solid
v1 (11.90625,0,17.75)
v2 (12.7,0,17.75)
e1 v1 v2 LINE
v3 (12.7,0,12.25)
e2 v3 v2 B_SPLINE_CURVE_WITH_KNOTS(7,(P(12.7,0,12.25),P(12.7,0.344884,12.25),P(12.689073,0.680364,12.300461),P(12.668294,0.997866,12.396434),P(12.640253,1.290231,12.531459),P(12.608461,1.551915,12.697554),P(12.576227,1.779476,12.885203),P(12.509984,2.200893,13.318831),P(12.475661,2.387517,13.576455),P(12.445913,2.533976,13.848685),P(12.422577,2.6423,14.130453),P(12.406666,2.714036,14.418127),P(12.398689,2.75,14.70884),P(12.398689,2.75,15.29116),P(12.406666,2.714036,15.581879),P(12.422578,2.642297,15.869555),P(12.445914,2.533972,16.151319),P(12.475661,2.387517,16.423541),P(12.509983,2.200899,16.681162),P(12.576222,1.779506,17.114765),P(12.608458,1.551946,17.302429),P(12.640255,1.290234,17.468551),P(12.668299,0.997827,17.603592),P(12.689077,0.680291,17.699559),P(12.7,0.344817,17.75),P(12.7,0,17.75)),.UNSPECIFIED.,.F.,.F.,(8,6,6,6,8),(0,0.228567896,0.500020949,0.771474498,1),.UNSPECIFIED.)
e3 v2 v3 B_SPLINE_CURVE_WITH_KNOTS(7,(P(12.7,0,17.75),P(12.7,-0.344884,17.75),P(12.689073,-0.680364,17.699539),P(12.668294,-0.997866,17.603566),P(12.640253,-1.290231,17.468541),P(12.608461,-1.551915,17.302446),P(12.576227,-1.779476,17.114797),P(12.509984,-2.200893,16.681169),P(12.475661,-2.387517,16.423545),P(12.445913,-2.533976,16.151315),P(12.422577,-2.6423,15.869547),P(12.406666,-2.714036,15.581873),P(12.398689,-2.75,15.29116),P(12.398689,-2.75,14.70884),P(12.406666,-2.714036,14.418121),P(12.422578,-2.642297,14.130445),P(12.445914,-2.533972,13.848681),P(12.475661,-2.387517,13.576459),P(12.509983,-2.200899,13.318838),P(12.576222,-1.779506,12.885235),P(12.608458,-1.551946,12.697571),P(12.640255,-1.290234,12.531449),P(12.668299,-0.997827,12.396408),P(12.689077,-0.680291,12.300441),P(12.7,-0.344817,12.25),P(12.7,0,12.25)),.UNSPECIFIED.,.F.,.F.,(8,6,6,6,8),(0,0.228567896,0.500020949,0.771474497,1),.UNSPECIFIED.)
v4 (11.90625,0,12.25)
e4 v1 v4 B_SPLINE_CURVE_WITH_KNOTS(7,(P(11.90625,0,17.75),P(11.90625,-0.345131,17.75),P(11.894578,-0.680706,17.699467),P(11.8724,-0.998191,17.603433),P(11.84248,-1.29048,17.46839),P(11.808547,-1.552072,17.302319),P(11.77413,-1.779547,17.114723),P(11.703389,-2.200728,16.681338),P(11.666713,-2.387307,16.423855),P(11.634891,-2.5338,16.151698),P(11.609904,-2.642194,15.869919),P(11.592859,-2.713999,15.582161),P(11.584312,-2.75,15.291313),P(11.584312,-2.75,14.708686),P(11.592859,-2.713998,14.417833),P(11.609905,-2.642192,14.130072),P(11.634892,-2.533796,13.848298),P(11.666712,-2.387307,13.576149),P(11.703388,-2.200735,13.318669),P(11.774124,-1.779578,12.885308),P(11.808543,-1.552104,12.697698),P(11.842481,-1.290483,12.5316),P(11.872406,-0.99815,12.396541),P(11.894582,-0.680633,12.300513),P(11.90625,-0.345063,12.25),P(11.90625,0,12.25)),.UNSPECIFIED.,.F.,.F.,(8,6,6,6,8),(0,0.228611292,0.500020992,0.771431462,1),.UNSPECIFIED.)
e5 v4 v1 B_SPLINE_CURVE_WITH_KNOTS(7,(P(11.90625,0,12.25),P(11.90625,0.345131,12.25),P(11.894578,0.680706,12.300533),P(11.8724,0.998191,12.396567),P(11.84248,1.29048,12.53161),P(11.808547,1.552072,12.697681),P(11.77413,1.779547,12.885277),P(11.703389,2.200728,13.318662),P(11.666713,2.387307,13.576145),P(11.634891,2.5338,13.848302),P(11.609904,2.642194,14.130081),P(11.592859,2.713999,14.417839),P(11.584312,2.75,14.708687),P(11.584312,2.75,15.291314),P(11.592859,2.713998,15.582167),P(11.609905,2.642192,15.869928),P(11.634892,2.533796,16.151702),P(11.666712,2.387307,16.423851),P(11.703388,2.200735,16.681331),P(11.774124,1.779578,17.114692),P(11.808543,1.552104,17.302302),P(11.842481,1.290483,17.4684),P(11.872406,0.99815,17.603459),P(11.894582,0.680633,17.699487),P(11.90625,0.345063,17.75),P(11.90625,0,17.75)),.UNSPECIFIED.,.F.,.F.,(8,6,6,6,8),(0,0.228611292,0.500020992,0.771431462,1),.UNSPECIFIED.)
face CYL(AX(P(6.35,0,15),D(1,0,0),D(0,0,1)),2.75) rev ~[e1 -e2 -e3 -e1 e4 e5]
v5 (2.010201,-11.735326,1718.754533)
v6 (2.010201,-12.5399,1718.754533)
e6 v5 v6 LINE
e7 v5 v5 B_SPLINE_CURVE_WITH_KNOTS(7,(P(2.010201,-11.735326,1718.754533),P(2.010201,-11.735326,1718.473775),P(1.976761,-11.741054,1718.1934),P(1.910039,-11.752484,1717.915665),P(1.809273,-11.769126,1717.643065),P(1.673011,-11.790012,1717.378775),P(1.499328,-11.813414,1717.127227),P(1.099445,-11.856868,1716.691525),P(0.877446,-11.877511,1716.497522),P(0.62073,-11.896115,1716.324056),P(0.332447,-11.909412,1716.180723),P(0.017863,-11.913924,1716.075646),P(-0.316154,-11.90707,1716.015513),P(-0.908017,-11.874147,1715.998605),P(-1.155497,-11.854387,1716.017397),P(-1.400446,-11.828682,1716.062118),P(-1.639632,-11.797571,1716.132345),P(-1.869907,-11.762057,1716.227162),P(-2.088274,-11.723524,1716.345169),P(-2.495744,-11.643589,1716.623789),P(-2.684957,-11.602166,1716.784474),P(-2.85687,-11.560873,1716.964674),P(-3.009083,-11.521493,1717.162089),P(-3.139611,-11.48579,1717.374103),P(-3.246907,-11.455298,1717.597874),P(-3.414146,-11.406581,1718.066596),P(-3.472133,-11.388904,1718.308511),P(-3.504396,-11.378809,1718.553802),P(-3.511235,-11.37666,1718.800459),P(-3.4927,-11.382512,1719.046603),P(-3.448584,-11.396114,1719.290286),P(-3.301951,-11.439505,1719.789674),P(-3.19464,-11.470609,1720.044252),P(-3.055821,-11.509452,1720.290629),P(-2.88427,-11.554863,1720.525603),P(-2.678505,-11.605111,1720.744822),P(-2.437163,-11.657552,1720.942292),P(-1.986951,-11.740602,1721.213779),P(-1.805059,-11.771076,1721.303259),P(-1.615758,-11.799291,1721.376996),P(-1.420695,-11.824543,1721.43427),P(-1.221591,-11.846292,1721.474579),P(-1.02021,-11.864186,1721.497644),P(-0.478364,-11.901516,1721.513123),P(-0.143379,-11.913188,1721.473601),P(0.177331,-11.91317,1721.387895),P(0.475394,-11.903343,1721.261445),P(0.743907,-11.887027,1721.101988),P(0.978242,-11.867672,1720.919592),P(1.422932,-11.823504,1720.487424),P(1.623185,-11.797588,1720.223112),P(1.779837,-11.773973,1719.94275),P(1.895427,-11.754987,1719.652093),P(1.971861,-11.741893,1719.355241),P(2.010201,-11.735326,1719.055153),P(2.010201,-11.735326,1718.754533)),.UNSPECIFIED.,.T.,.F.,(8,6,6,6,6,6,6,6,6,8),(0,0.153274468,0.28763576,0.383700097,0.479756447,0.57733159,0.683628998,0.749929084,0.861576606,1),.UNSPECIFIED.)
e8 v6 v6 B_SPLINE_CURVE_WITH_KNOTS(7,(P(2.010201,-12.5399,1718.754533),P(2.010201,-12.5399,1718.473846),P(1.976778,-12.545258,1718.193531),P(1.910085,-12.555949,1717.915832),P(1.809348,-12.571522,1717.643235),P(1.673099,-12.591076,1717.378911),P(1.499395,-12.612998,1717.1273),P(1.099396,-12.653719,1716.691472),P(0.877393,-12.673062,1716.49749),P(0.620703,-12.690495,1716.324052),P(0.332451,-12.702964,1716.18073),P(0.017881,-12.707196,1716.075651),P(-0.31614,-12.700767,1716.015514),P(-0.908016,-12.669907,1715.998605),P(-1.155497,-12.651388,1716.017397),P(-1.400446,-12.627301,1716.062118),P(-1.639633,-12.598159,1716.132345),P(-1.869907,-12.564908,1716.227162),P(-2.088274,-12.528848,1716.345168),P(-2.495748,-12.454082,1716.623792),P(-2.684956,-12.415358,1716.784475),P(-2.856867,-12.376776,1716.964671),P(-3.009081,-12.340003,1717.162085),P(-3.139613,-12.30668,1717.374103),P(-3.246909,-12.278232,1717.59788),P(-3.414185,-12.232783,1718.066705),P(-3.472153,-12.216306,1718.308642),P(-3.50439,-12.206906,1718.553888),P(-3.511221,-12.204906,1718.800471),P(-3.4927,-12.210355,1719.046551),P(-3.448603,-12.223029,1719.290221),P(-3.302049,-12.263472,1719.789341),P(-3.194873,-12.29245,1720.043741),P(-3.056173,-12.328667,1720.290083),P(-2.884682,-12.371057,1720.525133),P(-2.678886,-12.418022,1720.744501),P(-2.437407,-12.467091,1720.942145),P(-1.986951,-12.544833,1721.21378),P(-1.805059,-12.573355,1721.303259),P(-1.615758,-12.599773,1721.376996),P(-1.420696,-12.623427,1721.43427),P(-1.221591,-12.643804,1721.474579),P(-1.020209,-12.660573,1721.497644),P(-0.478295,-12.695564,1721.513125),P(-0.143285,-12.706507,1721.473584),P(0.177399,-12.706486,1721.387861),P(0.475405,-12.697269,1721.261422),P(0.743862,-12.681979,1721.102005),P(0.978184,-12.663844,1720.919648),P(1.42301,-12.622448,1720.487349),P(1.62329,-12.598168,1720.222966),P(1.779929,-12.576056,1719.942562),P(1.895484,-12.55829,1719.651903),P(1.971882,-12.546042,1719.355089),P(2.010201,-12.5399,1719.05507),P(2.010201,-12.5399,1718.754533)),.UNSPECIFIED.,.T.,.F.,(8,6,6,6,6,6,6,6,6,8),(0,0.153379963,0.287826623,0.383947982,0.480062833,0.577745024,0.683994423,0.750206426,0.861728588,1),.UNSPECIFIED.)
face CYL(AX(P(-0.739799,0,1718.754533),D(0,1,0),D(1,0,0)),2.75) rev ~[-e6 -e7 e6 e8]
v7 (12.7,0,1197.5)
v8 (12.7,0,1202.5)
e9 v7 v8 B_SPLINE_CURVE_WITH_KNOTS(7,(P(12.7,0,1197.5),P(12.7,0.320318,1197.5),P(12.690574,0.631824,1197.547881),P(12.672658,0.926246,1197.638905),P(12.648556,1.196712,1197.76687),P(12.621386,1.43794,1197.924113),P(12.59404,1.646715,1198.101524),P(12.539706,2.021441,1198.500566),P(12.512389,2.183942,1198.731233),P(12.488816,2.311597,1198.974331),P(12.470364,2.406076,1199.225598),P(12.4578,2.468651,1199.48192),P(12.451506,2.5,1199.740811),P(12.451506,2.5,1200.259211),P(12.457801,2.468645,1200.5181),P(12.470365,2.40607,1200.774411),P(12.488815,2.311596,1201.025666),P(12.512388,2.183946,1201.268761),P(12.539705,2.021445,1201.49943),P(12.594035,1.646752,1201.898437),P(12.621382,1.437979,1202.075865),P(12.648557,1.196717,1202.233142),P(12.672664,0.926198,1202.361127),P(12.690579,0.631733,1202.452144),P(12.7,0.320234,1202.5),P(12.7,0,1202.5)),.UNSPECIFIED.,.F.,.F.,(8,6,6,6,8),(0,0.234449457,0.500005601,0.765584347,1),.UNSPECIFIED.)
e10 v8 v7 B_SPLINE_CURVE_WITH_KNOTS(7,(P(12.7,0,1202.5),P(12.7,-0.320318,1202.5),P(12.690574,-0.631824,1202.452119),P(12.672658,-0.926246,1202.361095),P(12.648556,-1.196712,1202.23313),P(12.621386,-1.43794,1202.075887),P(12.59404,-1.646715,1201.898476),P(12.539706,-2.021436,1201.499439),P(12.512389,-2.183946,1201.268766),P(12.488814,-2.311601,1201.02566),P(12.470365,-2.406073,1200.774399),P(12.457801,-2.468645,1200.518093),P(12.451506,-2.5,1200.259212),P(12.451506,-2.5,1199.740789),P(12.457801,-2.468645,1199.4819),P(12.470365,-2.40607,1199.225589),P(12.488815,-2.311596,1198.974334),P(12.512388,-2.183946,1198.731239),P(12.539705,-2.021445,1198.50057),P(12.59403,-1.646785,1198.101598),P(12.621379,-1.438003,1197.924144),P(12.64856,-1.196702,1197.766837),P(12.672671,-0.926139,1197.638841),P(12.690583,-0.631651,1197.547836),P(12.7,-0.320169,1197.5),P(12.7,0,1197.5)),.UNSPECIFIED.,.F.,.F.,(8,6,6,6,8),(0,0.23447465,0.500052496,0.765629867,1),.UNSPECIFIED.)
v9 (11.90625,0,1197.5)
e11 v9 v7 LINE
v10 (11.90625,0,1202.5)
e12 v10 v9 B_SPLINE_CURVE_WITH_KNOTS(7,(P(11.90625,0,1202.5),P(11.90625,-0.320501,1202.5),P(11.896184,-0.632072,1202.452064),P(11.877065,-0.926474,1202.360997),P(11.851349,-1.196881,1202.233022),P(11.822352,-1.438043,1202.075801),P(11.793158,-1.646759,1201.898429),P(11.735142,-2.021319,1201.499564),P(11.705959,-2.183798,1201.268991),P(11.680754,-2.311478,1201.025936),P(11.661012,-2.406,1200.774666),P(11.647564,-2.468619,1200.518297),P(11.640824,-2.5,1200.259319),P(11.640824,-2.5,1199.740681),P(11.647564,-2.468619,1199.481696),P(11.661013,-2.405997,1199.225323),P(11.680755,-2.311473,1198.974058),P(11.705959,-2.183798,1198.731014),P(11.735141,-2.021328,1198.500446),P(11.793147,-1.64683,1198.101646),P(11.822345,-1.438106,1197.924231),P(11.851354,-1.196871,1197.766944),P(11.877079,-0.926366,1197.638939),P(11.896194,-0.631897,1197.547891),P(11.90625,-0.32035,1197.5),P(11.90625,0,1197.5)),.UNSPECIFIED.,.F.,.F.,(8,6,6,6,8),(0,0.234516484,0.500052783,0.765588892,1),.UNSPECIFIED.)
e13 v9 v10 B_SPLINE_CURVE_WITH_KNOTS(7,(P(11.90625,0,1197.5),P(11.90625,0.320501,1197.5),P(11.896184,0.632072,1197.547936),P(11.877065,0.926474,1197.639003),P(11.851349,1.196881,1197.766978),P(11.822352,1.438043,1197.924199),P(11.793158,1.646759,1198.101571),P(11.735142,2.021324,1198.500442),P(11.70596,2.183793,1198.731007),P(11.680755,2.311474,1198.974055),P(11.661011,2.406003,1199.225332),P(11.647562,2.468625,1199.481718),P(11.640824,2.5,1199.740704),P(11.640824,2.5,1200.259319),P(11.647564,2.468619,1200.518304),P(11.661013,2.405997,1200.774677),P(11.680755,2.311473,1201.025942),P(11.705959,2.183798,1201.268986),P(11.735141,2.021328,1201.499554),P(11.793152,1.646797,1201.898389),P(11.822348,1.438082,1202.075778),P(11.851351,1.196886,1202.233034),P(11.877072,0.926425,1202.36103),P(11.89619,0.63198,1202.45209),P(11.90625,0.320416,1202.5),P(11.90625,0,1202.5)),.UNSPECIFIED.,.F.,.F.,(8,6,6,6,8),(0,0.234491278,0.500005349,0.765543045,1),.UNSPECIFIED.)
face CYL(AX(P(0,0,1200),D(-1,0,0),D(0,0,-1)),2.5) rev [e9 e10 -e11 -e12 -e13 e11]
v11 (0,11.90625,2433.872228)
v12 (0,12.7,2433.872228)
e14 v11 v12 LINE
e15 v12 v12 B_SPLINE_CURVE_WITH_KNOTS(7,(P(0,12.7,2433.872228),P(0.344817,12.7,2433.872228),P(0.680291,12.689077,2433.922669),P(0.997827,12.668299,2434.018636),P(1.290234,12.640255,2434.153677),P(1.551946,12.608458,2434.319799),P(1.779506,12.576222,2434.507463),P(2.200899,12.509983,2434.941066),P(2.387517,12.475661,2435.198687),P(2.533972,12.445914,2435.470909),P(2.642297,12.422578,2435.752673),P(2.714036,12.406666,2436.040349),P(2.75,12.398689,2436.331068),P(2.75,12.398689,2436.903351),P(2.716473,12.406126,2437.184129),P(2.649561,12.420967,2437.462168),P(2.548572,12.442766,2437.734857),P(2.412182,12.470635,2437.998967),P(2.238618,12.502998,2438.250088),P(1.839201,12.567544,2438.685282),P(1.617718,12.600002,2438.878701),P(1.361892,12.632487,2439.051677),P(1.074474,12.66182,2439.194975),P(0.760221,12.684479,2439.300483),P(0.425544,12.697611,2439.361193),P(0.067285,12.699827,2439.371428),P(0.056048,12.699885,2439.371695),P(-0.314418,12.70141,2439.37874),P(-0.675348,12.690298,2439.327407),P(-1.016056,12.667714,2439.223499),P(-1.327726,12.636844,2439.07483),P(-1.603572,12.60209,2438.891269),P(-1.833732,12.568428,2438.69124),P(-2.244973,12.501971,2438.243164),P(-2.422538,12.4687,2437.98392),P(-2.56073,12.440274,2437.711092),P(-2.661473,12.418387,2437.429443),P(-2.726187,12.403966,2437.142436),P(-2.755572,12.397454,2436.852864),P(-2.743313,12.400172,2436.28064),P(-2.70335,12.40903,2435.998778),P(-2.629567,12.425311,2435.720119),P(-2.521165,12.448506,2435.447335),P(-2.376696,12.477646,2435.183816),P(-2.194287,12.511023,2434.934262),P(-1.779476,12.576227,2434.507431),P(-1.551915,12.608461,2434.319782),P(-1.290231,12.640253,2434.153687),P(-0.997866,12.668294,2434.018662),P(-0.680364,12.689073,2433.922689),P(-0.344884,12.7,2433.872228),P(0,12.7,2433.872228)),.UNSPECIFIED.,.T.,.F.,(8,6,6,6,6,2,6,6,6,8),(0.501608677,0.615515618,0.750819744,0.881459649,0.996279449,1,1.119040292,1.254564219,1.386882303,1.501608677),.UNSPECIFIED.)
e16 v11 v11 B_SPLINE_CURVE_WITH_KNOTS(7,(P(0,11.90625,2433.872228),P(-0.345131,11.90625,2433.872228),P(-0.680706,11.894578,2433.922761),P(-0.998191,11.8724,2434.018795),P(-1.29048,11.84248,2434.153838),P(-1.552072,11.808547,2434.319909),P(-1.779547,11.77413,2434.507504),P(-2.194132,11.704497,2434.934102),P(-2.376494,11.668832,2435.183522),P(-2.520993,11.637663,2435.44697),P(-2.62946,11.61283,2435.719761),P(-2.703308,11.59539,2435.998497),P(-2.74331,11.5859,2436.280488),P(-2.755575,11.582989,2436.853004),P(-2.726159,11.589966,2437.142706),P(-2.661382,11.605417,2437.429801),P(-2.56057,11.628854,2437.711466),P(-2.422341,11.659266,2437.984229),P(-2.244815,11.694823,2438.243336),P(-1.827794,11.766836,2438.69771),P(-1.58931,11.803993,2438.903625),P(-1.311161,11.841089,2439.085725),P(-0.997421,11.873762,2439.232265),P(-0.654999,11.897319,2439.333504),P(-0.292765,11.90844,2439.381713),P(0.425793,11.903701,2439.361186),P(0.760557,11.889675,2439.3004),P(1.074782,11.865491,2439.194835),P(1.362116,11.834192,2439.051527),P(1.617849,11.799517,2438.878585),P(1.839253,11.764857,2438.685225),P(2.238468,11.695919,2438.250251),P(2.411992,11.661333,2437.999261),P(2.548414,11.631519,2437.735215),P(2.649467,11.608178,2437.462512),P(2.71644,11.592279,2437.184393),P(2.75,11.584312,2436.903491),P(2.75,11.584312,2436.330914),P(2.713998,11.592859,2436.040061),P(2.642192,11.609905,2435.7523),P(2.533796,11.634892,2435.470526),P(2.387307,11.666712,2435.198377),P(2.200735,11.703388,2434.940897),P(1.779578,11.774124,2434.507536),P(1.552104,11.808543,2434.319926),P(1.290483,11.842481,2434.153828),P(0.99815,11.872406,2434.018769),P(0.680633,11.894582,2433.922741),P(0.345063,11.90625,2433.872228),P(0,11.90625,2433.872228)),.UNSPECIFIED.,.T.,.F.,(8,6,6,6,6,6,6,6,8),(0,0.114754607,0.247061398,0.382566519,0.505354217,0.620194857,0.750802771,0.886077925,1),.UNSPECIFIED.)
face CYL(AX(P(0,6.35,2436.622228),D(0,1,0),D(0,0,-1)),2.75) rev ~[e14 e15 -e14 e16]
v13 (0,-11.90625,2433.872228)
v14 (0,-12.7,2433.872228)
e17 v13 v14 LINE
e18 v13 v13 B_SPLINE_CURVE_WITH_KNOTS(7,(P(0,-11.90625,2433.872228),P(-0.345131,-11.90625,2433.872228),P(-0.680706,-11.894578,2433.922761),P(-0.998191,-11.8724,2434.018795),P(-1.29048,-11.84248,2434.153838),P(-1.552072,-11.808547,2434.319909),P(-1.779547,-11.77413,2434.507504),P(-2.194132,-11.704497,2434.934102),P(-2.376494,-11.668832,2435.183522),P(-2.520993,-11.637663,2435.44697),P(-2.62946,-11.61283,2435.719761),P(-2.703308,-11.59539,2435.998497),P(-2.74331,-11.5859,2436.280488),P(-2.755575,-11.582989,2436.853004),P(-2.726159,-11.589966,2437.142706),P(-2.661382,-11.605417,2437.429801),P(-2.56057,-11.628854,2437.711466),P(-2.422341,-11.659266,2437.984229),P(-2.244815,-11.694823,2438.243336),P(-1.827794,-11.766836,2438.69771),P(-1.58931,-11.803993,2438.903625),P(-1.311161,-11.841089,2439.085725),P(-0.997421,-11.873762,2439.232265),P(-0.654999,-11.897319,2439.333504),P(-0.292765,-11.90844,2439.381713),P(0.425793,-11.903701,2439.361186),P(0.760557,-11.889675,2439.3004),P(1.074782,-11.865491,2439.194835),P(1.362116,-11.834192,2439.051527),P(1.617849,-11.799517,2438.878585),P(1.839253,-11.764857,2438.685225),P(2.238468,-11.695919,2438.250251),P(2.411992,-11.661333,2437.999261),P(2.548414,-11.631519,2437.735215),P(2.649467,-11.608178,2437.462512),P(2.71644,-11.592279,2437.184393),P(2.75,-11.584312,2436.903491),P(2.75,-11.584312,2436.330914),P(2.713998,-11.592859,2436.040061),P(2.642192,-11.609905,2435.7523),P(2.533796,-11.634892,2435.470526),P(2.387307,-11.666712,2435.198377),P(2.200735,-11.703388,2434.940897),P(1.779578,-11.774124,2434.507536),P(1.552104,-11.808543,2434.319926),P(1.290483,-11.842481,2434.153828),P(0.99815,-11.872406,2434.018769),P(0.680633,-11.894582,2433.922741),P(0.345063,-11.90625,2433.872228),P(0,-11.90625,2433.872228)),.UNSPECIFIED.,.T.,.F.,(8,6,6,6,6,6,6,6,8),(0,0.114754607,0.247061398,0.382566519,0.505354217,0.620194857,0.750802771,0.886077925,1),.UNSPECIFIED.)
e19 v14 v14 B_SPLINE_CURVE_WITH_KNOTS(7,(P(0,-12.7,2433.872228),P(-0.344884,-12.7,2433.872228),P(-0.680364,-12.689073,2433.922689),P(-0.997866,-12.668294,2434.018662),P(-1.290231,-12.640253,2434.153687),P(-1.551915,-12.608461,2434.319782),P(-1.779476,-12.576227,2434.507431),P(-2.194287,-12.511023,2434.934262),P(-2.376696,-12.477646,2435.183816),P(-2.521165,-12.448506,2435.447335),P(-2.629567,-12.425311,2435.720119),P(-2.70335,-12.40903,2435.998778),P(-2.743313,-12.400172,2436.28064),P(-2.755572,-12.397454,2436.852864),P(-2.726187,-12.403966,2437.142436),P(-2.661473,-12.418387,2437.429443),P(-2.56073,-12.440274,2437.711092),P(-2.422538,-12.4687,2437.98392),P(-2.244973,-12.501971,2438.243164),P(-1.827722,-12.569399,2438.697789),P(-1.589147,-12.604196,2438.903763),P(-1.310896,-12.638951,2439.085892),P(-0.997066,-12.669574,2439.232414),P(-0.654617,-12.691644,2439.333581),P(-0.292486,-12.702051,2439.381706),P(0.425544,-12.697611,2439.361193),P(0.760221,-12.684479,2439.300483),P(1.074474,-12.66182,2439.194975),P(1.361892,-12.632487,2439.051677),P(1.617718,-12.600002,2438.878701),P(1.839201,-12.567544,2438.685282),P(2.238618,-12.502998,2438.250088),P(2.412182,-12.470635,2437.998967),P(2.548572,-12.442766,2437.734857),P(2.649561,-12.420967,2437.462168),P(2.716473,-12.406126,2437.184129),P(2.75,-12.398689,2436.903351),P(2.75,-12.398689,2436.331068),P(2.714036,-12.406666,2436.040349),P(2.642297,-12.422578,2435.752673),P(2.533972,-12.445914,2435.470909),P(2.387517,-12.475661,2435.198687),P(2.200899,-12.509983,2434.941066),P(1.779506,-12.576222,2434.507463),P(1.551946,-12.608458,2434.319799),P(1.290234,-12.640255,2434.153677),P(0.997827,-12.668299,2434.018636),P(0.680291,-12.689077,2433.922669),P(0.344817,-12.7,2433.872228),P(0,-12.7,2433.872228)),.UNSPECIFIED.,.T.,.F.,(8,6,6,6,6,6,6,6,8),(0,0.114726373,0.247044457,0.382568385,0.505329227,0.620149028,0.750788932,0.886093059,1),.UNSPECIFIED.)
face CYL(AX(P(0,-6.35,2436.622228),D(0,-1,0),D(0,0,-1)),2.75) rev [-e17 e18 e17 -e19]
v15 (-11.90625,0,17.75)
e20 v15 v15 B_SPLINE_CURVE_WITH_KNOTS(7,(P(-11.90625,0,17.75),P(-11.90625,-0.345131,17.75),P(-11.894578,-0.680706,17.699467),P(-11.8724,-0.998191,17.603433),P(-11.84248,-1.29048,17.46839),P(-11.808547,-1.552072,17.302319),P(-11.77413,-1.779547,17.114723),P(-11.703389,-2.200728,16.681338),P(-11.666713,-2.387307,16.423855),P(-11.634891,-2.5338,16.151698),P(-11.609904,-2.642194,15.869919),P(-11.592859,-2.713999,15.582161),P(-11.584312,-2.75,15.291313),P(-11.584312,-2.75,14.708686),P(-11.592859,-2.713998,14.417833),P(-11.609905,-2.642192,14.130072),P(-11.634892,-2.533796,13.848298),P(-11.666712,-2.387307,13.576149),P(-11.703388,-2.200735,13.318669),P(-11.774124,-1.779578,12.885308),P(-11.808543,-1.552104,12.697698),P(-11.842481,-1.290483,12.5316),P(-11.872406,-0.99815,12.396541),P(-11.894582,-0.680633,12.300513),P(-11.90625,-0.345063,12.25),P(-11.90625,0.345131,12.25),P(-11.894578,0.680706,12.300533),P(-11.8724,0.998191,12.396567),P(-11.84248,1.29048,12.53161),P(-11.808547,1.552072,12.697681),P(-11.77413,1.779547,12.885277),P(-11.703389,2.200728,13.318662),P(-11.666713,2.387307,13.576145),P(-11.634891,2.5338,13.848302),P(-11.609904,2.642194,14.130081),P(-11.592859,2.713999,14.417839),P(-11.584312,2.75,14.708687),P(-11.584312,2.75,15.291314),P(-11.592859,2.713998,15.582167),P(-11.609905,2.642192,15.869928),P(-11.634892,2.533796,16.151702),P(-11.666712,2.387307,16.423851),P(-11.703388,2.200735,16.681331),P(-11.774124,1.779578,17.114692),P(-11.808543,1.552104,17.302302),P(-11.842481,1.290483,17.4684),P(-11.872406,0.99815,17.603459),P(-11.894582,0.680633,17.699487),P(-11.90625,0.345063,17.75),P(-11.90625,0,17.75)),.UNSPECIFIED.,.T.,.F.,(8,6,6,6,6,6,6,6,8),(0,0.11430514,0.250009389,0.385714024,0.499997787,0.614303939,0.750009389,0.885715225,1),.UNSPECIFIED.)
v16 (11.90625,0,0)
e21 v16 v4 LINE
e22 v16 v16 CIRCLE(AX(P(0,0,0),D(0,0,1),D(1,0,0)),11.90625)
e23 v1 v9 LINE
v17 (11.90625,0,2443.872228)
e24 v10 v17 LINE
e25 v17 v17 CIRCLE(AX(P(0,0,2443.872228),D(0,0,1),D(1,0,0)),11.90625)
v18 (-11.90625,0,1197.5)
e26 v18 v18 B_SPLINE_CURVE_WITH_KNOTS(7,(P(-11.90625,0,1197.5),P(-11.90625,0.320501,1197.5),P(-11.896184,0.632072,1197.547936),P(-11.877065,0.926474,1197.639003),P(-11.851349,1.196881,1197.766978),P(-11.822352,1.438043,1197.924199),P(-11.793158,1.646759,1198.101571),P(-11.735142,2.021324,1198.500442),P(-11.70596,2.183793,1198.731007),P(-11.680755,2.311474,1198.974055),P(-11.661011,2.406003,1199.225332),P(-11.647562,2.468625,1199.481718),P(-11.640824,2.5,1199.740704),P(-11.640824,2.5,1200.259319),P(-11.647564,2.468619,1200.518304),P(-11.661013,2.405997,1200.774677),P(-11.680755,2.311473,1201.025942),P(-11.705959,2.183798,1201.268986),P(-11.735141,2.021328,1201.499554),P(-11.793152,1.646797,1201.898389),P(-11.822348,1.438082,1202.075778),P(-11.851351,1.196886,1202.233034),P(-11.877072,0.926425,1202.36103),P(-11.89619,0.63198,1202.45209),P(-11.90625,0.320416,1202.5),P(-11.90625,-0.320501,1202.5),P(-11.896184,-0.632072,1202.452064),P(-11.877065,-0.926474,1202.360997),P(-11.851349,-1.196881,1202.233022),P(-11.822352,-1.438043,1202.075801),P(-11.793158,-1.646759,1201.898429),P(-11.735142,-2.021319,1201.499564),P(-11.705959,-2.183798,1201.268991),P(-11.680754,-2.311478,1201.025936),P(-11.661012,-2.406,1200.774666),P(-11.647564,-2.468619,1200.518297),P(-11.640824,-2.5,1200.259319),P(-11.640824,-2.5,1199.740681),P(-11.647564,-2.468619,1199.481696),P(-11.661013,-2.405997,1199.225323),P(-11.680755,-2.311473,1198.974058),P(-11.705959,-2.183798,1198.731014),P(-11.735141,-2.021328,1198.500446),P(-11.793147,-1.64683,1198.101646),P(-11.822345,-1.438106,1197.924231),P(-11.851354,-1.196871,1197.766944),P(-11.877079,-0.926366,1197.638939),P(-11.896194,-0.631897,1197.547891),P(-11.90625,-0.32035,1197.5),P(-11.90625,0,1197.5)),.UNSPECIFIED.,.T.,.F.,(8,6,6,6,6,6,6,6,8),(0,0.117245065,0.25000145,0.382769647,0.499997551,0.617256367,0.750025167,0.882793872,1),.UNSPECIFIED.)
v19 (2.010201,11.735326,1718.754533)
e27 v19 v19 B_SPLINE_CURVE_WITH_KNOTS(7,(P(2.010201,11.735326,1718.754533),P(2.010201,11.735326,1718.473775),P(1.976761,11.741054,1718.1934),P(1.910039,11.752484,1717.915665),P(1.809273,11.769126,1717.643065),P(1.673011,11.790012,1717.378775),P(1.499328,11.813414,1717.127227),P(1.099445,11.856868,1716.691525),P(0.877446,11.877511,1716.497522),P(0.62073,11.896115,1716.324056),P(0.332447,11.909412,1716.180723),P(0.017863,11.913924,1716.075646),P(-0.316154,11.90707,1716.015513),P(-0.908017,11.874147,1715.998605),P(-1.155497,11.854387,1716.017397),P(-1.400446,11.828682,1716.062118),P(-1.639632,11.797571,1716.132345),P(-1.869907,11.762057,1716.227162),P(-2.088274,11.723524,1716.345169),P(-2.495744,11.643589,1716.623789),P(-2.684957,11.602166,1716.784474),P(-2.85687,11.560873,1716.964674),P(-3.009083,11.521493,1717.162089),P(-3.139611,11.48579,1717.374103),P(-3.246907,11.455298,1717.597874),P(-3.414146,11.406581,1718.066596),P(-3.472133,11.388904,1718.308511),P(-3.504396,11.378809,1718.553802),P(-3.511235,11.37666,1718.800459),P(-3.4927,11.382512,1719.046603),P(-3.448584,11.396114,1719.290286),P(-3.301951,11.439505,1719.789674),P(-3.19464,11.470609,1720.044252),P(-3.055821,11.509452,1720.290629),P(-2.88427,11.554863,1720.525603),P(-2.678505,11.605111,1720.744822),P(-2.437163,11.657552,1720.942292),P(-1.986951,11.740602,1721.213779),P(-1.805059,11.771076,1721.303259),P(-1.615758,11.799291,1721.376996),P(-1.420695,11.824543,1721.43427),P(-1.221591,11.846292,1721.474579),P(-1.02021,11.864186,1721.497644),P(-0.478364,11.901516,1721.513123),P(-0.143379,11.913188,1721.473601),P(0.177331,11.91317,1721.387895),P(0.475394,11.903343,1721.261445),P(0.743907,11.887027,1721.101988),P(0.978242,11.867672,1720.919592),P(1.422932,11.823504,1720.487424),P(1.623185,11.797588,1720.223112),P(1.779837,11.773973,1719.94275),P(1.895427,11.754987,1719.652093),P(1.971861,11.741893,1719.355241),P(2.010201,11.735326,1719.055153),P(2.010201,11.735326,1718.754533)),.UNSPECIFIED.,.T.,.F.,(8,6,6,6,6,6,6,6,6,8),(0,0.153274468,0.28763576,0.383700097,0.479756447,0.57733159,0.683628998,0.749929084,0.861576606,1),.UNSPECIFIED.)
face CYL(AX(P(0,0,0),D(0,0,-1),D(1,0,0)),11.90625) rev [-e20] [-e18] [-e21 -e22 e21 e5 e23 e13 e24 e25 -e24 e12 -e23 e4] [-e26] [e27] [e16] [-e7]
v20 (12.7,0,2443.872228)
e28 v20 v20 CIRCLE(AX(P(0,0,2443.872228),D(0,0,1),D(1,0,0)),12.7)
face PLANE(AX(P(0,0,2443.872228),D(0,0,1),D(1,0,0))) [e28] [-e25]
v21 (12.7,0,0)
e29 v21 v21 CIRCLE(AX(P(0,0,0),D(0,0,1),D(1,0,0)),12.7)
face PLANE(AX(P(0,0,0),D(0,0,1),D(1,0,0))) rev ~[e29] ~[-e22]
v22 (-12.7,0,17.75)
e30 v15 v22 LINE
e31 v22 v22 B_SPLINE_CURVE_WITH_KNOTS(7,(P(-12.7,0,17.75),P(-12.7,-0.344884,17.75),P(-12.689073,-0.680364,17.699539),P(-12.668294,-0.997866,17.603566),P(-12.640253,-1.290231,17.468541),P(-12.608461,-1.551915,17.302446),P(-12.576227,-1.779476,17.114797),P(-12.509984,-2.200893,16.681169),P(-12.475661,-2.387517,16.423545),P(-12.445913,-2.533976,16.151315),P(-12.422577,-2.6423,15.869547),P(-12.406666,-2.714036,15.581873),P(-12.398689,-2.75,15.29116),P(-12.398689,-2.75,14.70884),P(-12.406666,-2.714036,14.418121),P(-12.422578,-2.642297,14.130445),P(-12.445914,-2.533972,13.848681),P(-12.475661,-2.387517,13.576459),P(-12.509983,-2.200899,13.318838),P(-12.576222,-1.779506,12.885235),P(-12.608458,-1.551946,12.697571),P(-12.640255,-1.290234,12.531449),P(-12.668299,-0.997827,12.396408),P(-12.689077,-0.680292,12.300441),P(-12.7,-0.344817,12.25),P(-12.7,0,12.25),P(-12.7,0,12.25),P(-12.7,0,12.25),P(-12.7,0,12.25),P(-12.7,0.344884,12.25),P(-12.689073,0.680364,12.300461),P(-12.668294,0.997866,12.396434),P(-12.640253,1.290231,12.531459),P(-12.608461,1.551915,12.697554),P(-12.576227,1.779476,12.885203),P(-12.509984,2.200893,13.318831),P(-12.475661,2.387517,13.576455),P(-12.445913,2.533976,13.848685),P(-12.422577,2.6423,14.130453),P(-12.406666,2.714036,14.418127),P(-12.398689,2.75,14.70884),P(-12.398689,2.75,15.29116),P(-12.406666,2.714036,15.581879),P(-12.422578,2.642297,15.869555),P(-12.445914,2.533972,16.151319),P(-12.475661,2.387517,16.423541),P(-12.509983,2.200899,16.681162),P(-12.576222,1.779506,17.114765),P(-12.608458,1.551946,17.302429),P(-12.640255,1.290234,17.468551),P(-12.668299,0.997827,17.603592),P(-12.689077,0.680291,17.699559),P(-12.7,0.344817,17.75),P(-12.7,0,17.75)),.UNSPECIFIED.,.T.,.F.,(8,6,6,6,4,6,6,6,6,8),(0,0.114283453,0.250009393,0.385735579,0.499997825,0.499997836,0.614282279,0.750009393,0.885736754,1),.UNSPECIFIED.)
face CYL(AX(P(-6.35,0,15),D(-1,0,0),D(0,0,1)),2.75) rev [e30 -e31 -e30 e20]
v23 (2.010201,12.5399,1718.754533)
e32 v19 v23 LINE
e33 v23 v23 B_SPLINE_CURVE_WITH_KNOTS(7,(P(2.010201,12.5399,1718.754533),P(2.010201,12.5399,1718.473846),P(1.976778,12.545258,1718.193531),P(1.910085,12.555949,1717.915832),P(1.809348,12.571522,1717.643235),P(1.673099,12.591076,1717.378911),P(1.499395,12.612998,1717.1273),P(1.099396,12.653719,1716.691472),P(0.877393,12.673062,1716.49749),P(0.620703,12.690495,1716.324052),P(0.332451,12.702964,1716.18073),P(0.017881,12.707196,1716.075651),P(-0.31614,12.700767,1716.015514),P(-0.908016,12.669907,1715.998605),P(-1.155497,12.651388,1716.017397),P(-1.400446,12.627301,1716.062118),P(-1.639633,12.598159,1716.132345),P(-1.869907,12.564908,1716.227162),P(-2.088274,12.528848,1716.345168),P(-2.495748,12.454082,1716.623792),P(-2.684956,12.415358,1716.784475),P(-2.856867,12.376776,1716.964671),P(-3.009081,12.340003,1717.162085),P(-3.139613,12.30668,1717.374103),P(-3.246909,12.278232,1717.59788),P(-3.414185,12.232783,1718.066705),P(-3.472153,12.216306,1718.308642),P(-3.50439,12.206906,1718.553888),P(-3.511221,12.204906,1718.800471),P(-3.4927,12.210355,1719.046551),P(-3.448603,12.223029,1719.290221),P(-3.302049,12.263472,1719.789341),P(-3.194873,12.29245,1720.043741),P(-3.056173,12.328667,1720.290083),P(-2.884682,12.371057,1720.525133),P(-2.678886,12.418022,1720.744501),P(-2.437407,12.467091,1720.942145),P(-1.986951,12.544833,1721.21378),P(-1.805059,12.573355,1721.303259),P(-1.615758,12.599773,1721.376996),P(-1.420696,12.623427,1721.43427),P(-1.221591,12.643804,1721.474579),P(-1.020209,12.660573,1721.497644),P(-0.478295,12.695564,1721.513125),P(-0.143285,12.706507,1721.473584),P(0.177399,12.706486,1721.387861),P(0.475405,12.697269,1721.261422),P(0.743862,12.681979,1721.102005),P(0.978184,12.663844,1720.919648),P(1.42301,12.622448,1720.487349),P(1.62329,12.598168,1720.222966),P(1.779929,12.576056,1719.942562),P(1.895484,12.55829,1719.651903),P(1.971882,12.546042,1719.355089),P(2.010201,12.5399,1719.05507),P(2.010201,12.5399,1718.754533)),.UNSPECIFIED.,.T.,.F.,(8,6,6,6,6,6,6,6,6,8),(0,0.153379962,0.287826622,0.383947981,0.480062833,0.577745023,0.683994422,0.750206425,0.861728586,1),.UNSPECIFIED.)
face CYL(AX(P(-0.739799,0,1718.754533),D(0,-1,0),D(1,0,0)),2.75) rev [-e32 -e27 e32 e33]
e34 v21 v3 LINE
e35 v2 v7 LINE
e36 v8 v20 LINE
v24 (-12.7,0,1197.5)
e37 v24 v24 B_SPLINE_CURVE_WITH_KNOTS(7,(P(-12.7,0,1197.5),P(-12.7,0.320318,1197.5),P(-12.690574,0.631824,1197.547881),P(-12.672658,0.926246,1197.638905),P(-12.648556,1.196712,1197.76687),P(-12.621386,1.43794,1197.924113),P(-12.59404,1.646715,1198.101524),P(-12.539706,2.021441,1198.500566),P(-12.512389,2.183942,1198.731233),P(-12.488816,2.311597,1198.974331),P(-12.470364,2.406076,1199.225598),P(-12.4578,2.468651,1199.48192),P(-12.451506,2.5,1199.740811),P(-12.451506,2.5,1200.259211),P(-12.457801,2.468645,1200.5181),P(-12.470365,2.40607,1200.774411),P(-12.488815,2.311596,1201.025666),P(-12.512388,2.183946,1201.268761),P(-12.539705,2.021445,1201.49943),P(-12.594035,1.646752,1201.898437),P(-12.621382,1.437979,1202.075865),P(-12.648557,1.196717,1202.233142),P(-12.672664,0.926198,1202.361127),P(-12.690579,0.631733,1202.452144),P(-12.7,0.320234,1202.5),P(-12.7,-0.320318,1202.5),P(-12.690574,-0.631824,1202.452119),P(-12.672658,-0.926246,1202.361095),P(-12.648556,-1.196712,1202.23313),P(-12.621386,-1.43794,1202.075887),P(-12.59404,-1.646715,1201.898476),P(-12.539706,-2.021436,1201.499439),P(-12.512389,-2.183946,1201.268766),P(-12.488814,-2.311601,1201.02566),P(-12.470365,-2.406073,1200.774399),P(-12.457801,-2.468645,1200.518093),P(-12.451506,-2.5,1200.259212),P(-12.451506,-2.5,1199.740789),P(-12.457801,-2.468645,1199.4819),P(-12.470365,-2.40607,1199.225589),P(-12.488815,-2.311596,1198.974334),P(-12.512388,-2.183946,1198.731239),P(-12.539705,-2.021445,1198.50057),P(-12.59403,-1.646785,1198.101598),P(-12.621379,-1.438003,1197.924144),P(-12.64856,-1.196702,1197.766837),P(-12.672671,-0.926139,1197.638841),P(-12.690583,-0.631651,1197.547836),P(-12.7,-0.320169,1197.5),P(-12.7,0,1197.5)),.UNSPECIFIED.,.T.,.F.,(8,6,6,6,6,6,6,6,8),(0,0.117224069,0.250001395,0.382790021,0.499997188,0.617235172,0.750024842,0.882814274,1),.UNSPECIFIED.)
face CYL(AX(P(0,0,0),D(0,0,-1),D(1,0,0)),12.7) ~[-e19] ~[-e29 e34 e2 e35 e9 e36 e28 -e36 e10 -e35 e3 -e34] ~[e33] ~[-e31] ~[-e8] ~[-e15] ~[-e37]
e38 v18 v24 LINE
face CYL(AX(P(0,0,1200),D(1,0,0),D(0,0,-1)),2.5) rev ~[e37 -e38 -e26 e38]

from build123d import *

# Parameters (mm, degrees)
SKETCH1_R               = 12.7
SKETCH1_R_2             = 11.90625
BOSS_EXTRUDE1_DEPTH     = 2443.872227937
SKETCH4_W               = 2.75
SKETCH4_H               = 12.7
SKETCH12_W              = 2.75
SKETCH12_H              = 12.7
SKETCH13_R              = 2.750000003
CUT_EXTRUDE1_DEPTH      = 13.7000001
CUT_EXTRUDE1_DEPTH_BACK = 13.7000001
SKETCH14_R              = 2.5
CUT_EXTRUDE2_DEPTH      = 13.7000001
CUT_EXTRUDE2_DEPTH_BACK = 13.7000001


with BuildPart() as part:
    # Sketch1 → Boss-Extrude1 (new body)
    with BuildSketch(Plane.XY):
        Circle(SKETCH1_R)
        Circle(SKETCH1_R_2, mode=Mode.SUBTRACT)
    extrude(amount=BOSS_EXTRUDE1_DEPTH)

    # Sketch4 → M5 Clearance Hole1 (revolve, cut)
    with BuildSketch(Plane(origin=(0, 0, 2436.622227937), x_dir=(0, 0, -1), z_dir=(1, 0, 0))):
        with Locations((1.375, 6.35)):
            Rectangle(SKETCH4_W, SKETCH4_H)
    m5_clearance_hole1 = revolve(axis=Axis((0, -6.35, 2436.622227937), (0, 1, 0)), mode=Mode.SUBTRACT)

    # Mirror1: M5 Clearance Hole1 across plane
    add(m5_clearance_hole1.mirror(Plane.ZX), mode=Mode.SUBTRACT)

    # Sketch12 → M5 Clearance Hole3 (revolve, cut)
    with BuildSketch(Plane(origin=(0, 0, 15), x_dir=(0, 0, 1), z_dir=(0, 1, 0))):
        with Locations((1.375, 6.35)):
            Rectangle(SKETCH12_W, SKETCH12_H)
    m5_clearance_hole3 = revolve(axis=Axis((-6.35, 0, 15), (1, 0, 0)), mode=Mode.SUBTRACT)

    # Mirror3: M5 Clearance Hole3 across plane
    add(m5_clearance_hole3.mirror(Plane(origin=(0, 0, 0), x_dir=(0, 0, 1), z_dir=(1, 0, 0))), mode=Mode.SUBTRACT)

    # Sketch13 → Cut-Extrude1 (cut, two sides)
    with BuildSketch(Plane(origin=(0, 0, 0), x_dir=(1, 0, 0), z_dir=(0, 1, 0))) as cut_extrude1_sk:
        with Locations((-0.739798723, -1718.754532743)):
            Circle(SKETCH13_R)
    extrude(amount=CUT_EXTRUDE1_DEPTH, mode=Mode.SUBTRACT)
    extrude(cut_extrude1_sk.sketch, amount=-CUT_EXTRUDE1_DEPTH_BACK, mode=Mode.SUBTRACT)

    # Sketch14 → Cut-Extrude2 (cut, two sides)
    with BuildSketch(Plane(origin=(0, 0, 0), x_dir=(0, 0, -1), z_dir=(1, 0, 0))) as cut_extrude2_sk:
        with Locations((-1200, 0)):
            Circle(SKETCH14_R)
    extrude(amount=CUT_EXTRUDE2_DEPTH, mode=Mode.SUBTRACT)
    extrude(cut_extrude2_sk.sketch, amount=-CUT_EXTRUDE2_DEPTH_BACK, mode=Mode.SUBTRACT)


solid = part.part
